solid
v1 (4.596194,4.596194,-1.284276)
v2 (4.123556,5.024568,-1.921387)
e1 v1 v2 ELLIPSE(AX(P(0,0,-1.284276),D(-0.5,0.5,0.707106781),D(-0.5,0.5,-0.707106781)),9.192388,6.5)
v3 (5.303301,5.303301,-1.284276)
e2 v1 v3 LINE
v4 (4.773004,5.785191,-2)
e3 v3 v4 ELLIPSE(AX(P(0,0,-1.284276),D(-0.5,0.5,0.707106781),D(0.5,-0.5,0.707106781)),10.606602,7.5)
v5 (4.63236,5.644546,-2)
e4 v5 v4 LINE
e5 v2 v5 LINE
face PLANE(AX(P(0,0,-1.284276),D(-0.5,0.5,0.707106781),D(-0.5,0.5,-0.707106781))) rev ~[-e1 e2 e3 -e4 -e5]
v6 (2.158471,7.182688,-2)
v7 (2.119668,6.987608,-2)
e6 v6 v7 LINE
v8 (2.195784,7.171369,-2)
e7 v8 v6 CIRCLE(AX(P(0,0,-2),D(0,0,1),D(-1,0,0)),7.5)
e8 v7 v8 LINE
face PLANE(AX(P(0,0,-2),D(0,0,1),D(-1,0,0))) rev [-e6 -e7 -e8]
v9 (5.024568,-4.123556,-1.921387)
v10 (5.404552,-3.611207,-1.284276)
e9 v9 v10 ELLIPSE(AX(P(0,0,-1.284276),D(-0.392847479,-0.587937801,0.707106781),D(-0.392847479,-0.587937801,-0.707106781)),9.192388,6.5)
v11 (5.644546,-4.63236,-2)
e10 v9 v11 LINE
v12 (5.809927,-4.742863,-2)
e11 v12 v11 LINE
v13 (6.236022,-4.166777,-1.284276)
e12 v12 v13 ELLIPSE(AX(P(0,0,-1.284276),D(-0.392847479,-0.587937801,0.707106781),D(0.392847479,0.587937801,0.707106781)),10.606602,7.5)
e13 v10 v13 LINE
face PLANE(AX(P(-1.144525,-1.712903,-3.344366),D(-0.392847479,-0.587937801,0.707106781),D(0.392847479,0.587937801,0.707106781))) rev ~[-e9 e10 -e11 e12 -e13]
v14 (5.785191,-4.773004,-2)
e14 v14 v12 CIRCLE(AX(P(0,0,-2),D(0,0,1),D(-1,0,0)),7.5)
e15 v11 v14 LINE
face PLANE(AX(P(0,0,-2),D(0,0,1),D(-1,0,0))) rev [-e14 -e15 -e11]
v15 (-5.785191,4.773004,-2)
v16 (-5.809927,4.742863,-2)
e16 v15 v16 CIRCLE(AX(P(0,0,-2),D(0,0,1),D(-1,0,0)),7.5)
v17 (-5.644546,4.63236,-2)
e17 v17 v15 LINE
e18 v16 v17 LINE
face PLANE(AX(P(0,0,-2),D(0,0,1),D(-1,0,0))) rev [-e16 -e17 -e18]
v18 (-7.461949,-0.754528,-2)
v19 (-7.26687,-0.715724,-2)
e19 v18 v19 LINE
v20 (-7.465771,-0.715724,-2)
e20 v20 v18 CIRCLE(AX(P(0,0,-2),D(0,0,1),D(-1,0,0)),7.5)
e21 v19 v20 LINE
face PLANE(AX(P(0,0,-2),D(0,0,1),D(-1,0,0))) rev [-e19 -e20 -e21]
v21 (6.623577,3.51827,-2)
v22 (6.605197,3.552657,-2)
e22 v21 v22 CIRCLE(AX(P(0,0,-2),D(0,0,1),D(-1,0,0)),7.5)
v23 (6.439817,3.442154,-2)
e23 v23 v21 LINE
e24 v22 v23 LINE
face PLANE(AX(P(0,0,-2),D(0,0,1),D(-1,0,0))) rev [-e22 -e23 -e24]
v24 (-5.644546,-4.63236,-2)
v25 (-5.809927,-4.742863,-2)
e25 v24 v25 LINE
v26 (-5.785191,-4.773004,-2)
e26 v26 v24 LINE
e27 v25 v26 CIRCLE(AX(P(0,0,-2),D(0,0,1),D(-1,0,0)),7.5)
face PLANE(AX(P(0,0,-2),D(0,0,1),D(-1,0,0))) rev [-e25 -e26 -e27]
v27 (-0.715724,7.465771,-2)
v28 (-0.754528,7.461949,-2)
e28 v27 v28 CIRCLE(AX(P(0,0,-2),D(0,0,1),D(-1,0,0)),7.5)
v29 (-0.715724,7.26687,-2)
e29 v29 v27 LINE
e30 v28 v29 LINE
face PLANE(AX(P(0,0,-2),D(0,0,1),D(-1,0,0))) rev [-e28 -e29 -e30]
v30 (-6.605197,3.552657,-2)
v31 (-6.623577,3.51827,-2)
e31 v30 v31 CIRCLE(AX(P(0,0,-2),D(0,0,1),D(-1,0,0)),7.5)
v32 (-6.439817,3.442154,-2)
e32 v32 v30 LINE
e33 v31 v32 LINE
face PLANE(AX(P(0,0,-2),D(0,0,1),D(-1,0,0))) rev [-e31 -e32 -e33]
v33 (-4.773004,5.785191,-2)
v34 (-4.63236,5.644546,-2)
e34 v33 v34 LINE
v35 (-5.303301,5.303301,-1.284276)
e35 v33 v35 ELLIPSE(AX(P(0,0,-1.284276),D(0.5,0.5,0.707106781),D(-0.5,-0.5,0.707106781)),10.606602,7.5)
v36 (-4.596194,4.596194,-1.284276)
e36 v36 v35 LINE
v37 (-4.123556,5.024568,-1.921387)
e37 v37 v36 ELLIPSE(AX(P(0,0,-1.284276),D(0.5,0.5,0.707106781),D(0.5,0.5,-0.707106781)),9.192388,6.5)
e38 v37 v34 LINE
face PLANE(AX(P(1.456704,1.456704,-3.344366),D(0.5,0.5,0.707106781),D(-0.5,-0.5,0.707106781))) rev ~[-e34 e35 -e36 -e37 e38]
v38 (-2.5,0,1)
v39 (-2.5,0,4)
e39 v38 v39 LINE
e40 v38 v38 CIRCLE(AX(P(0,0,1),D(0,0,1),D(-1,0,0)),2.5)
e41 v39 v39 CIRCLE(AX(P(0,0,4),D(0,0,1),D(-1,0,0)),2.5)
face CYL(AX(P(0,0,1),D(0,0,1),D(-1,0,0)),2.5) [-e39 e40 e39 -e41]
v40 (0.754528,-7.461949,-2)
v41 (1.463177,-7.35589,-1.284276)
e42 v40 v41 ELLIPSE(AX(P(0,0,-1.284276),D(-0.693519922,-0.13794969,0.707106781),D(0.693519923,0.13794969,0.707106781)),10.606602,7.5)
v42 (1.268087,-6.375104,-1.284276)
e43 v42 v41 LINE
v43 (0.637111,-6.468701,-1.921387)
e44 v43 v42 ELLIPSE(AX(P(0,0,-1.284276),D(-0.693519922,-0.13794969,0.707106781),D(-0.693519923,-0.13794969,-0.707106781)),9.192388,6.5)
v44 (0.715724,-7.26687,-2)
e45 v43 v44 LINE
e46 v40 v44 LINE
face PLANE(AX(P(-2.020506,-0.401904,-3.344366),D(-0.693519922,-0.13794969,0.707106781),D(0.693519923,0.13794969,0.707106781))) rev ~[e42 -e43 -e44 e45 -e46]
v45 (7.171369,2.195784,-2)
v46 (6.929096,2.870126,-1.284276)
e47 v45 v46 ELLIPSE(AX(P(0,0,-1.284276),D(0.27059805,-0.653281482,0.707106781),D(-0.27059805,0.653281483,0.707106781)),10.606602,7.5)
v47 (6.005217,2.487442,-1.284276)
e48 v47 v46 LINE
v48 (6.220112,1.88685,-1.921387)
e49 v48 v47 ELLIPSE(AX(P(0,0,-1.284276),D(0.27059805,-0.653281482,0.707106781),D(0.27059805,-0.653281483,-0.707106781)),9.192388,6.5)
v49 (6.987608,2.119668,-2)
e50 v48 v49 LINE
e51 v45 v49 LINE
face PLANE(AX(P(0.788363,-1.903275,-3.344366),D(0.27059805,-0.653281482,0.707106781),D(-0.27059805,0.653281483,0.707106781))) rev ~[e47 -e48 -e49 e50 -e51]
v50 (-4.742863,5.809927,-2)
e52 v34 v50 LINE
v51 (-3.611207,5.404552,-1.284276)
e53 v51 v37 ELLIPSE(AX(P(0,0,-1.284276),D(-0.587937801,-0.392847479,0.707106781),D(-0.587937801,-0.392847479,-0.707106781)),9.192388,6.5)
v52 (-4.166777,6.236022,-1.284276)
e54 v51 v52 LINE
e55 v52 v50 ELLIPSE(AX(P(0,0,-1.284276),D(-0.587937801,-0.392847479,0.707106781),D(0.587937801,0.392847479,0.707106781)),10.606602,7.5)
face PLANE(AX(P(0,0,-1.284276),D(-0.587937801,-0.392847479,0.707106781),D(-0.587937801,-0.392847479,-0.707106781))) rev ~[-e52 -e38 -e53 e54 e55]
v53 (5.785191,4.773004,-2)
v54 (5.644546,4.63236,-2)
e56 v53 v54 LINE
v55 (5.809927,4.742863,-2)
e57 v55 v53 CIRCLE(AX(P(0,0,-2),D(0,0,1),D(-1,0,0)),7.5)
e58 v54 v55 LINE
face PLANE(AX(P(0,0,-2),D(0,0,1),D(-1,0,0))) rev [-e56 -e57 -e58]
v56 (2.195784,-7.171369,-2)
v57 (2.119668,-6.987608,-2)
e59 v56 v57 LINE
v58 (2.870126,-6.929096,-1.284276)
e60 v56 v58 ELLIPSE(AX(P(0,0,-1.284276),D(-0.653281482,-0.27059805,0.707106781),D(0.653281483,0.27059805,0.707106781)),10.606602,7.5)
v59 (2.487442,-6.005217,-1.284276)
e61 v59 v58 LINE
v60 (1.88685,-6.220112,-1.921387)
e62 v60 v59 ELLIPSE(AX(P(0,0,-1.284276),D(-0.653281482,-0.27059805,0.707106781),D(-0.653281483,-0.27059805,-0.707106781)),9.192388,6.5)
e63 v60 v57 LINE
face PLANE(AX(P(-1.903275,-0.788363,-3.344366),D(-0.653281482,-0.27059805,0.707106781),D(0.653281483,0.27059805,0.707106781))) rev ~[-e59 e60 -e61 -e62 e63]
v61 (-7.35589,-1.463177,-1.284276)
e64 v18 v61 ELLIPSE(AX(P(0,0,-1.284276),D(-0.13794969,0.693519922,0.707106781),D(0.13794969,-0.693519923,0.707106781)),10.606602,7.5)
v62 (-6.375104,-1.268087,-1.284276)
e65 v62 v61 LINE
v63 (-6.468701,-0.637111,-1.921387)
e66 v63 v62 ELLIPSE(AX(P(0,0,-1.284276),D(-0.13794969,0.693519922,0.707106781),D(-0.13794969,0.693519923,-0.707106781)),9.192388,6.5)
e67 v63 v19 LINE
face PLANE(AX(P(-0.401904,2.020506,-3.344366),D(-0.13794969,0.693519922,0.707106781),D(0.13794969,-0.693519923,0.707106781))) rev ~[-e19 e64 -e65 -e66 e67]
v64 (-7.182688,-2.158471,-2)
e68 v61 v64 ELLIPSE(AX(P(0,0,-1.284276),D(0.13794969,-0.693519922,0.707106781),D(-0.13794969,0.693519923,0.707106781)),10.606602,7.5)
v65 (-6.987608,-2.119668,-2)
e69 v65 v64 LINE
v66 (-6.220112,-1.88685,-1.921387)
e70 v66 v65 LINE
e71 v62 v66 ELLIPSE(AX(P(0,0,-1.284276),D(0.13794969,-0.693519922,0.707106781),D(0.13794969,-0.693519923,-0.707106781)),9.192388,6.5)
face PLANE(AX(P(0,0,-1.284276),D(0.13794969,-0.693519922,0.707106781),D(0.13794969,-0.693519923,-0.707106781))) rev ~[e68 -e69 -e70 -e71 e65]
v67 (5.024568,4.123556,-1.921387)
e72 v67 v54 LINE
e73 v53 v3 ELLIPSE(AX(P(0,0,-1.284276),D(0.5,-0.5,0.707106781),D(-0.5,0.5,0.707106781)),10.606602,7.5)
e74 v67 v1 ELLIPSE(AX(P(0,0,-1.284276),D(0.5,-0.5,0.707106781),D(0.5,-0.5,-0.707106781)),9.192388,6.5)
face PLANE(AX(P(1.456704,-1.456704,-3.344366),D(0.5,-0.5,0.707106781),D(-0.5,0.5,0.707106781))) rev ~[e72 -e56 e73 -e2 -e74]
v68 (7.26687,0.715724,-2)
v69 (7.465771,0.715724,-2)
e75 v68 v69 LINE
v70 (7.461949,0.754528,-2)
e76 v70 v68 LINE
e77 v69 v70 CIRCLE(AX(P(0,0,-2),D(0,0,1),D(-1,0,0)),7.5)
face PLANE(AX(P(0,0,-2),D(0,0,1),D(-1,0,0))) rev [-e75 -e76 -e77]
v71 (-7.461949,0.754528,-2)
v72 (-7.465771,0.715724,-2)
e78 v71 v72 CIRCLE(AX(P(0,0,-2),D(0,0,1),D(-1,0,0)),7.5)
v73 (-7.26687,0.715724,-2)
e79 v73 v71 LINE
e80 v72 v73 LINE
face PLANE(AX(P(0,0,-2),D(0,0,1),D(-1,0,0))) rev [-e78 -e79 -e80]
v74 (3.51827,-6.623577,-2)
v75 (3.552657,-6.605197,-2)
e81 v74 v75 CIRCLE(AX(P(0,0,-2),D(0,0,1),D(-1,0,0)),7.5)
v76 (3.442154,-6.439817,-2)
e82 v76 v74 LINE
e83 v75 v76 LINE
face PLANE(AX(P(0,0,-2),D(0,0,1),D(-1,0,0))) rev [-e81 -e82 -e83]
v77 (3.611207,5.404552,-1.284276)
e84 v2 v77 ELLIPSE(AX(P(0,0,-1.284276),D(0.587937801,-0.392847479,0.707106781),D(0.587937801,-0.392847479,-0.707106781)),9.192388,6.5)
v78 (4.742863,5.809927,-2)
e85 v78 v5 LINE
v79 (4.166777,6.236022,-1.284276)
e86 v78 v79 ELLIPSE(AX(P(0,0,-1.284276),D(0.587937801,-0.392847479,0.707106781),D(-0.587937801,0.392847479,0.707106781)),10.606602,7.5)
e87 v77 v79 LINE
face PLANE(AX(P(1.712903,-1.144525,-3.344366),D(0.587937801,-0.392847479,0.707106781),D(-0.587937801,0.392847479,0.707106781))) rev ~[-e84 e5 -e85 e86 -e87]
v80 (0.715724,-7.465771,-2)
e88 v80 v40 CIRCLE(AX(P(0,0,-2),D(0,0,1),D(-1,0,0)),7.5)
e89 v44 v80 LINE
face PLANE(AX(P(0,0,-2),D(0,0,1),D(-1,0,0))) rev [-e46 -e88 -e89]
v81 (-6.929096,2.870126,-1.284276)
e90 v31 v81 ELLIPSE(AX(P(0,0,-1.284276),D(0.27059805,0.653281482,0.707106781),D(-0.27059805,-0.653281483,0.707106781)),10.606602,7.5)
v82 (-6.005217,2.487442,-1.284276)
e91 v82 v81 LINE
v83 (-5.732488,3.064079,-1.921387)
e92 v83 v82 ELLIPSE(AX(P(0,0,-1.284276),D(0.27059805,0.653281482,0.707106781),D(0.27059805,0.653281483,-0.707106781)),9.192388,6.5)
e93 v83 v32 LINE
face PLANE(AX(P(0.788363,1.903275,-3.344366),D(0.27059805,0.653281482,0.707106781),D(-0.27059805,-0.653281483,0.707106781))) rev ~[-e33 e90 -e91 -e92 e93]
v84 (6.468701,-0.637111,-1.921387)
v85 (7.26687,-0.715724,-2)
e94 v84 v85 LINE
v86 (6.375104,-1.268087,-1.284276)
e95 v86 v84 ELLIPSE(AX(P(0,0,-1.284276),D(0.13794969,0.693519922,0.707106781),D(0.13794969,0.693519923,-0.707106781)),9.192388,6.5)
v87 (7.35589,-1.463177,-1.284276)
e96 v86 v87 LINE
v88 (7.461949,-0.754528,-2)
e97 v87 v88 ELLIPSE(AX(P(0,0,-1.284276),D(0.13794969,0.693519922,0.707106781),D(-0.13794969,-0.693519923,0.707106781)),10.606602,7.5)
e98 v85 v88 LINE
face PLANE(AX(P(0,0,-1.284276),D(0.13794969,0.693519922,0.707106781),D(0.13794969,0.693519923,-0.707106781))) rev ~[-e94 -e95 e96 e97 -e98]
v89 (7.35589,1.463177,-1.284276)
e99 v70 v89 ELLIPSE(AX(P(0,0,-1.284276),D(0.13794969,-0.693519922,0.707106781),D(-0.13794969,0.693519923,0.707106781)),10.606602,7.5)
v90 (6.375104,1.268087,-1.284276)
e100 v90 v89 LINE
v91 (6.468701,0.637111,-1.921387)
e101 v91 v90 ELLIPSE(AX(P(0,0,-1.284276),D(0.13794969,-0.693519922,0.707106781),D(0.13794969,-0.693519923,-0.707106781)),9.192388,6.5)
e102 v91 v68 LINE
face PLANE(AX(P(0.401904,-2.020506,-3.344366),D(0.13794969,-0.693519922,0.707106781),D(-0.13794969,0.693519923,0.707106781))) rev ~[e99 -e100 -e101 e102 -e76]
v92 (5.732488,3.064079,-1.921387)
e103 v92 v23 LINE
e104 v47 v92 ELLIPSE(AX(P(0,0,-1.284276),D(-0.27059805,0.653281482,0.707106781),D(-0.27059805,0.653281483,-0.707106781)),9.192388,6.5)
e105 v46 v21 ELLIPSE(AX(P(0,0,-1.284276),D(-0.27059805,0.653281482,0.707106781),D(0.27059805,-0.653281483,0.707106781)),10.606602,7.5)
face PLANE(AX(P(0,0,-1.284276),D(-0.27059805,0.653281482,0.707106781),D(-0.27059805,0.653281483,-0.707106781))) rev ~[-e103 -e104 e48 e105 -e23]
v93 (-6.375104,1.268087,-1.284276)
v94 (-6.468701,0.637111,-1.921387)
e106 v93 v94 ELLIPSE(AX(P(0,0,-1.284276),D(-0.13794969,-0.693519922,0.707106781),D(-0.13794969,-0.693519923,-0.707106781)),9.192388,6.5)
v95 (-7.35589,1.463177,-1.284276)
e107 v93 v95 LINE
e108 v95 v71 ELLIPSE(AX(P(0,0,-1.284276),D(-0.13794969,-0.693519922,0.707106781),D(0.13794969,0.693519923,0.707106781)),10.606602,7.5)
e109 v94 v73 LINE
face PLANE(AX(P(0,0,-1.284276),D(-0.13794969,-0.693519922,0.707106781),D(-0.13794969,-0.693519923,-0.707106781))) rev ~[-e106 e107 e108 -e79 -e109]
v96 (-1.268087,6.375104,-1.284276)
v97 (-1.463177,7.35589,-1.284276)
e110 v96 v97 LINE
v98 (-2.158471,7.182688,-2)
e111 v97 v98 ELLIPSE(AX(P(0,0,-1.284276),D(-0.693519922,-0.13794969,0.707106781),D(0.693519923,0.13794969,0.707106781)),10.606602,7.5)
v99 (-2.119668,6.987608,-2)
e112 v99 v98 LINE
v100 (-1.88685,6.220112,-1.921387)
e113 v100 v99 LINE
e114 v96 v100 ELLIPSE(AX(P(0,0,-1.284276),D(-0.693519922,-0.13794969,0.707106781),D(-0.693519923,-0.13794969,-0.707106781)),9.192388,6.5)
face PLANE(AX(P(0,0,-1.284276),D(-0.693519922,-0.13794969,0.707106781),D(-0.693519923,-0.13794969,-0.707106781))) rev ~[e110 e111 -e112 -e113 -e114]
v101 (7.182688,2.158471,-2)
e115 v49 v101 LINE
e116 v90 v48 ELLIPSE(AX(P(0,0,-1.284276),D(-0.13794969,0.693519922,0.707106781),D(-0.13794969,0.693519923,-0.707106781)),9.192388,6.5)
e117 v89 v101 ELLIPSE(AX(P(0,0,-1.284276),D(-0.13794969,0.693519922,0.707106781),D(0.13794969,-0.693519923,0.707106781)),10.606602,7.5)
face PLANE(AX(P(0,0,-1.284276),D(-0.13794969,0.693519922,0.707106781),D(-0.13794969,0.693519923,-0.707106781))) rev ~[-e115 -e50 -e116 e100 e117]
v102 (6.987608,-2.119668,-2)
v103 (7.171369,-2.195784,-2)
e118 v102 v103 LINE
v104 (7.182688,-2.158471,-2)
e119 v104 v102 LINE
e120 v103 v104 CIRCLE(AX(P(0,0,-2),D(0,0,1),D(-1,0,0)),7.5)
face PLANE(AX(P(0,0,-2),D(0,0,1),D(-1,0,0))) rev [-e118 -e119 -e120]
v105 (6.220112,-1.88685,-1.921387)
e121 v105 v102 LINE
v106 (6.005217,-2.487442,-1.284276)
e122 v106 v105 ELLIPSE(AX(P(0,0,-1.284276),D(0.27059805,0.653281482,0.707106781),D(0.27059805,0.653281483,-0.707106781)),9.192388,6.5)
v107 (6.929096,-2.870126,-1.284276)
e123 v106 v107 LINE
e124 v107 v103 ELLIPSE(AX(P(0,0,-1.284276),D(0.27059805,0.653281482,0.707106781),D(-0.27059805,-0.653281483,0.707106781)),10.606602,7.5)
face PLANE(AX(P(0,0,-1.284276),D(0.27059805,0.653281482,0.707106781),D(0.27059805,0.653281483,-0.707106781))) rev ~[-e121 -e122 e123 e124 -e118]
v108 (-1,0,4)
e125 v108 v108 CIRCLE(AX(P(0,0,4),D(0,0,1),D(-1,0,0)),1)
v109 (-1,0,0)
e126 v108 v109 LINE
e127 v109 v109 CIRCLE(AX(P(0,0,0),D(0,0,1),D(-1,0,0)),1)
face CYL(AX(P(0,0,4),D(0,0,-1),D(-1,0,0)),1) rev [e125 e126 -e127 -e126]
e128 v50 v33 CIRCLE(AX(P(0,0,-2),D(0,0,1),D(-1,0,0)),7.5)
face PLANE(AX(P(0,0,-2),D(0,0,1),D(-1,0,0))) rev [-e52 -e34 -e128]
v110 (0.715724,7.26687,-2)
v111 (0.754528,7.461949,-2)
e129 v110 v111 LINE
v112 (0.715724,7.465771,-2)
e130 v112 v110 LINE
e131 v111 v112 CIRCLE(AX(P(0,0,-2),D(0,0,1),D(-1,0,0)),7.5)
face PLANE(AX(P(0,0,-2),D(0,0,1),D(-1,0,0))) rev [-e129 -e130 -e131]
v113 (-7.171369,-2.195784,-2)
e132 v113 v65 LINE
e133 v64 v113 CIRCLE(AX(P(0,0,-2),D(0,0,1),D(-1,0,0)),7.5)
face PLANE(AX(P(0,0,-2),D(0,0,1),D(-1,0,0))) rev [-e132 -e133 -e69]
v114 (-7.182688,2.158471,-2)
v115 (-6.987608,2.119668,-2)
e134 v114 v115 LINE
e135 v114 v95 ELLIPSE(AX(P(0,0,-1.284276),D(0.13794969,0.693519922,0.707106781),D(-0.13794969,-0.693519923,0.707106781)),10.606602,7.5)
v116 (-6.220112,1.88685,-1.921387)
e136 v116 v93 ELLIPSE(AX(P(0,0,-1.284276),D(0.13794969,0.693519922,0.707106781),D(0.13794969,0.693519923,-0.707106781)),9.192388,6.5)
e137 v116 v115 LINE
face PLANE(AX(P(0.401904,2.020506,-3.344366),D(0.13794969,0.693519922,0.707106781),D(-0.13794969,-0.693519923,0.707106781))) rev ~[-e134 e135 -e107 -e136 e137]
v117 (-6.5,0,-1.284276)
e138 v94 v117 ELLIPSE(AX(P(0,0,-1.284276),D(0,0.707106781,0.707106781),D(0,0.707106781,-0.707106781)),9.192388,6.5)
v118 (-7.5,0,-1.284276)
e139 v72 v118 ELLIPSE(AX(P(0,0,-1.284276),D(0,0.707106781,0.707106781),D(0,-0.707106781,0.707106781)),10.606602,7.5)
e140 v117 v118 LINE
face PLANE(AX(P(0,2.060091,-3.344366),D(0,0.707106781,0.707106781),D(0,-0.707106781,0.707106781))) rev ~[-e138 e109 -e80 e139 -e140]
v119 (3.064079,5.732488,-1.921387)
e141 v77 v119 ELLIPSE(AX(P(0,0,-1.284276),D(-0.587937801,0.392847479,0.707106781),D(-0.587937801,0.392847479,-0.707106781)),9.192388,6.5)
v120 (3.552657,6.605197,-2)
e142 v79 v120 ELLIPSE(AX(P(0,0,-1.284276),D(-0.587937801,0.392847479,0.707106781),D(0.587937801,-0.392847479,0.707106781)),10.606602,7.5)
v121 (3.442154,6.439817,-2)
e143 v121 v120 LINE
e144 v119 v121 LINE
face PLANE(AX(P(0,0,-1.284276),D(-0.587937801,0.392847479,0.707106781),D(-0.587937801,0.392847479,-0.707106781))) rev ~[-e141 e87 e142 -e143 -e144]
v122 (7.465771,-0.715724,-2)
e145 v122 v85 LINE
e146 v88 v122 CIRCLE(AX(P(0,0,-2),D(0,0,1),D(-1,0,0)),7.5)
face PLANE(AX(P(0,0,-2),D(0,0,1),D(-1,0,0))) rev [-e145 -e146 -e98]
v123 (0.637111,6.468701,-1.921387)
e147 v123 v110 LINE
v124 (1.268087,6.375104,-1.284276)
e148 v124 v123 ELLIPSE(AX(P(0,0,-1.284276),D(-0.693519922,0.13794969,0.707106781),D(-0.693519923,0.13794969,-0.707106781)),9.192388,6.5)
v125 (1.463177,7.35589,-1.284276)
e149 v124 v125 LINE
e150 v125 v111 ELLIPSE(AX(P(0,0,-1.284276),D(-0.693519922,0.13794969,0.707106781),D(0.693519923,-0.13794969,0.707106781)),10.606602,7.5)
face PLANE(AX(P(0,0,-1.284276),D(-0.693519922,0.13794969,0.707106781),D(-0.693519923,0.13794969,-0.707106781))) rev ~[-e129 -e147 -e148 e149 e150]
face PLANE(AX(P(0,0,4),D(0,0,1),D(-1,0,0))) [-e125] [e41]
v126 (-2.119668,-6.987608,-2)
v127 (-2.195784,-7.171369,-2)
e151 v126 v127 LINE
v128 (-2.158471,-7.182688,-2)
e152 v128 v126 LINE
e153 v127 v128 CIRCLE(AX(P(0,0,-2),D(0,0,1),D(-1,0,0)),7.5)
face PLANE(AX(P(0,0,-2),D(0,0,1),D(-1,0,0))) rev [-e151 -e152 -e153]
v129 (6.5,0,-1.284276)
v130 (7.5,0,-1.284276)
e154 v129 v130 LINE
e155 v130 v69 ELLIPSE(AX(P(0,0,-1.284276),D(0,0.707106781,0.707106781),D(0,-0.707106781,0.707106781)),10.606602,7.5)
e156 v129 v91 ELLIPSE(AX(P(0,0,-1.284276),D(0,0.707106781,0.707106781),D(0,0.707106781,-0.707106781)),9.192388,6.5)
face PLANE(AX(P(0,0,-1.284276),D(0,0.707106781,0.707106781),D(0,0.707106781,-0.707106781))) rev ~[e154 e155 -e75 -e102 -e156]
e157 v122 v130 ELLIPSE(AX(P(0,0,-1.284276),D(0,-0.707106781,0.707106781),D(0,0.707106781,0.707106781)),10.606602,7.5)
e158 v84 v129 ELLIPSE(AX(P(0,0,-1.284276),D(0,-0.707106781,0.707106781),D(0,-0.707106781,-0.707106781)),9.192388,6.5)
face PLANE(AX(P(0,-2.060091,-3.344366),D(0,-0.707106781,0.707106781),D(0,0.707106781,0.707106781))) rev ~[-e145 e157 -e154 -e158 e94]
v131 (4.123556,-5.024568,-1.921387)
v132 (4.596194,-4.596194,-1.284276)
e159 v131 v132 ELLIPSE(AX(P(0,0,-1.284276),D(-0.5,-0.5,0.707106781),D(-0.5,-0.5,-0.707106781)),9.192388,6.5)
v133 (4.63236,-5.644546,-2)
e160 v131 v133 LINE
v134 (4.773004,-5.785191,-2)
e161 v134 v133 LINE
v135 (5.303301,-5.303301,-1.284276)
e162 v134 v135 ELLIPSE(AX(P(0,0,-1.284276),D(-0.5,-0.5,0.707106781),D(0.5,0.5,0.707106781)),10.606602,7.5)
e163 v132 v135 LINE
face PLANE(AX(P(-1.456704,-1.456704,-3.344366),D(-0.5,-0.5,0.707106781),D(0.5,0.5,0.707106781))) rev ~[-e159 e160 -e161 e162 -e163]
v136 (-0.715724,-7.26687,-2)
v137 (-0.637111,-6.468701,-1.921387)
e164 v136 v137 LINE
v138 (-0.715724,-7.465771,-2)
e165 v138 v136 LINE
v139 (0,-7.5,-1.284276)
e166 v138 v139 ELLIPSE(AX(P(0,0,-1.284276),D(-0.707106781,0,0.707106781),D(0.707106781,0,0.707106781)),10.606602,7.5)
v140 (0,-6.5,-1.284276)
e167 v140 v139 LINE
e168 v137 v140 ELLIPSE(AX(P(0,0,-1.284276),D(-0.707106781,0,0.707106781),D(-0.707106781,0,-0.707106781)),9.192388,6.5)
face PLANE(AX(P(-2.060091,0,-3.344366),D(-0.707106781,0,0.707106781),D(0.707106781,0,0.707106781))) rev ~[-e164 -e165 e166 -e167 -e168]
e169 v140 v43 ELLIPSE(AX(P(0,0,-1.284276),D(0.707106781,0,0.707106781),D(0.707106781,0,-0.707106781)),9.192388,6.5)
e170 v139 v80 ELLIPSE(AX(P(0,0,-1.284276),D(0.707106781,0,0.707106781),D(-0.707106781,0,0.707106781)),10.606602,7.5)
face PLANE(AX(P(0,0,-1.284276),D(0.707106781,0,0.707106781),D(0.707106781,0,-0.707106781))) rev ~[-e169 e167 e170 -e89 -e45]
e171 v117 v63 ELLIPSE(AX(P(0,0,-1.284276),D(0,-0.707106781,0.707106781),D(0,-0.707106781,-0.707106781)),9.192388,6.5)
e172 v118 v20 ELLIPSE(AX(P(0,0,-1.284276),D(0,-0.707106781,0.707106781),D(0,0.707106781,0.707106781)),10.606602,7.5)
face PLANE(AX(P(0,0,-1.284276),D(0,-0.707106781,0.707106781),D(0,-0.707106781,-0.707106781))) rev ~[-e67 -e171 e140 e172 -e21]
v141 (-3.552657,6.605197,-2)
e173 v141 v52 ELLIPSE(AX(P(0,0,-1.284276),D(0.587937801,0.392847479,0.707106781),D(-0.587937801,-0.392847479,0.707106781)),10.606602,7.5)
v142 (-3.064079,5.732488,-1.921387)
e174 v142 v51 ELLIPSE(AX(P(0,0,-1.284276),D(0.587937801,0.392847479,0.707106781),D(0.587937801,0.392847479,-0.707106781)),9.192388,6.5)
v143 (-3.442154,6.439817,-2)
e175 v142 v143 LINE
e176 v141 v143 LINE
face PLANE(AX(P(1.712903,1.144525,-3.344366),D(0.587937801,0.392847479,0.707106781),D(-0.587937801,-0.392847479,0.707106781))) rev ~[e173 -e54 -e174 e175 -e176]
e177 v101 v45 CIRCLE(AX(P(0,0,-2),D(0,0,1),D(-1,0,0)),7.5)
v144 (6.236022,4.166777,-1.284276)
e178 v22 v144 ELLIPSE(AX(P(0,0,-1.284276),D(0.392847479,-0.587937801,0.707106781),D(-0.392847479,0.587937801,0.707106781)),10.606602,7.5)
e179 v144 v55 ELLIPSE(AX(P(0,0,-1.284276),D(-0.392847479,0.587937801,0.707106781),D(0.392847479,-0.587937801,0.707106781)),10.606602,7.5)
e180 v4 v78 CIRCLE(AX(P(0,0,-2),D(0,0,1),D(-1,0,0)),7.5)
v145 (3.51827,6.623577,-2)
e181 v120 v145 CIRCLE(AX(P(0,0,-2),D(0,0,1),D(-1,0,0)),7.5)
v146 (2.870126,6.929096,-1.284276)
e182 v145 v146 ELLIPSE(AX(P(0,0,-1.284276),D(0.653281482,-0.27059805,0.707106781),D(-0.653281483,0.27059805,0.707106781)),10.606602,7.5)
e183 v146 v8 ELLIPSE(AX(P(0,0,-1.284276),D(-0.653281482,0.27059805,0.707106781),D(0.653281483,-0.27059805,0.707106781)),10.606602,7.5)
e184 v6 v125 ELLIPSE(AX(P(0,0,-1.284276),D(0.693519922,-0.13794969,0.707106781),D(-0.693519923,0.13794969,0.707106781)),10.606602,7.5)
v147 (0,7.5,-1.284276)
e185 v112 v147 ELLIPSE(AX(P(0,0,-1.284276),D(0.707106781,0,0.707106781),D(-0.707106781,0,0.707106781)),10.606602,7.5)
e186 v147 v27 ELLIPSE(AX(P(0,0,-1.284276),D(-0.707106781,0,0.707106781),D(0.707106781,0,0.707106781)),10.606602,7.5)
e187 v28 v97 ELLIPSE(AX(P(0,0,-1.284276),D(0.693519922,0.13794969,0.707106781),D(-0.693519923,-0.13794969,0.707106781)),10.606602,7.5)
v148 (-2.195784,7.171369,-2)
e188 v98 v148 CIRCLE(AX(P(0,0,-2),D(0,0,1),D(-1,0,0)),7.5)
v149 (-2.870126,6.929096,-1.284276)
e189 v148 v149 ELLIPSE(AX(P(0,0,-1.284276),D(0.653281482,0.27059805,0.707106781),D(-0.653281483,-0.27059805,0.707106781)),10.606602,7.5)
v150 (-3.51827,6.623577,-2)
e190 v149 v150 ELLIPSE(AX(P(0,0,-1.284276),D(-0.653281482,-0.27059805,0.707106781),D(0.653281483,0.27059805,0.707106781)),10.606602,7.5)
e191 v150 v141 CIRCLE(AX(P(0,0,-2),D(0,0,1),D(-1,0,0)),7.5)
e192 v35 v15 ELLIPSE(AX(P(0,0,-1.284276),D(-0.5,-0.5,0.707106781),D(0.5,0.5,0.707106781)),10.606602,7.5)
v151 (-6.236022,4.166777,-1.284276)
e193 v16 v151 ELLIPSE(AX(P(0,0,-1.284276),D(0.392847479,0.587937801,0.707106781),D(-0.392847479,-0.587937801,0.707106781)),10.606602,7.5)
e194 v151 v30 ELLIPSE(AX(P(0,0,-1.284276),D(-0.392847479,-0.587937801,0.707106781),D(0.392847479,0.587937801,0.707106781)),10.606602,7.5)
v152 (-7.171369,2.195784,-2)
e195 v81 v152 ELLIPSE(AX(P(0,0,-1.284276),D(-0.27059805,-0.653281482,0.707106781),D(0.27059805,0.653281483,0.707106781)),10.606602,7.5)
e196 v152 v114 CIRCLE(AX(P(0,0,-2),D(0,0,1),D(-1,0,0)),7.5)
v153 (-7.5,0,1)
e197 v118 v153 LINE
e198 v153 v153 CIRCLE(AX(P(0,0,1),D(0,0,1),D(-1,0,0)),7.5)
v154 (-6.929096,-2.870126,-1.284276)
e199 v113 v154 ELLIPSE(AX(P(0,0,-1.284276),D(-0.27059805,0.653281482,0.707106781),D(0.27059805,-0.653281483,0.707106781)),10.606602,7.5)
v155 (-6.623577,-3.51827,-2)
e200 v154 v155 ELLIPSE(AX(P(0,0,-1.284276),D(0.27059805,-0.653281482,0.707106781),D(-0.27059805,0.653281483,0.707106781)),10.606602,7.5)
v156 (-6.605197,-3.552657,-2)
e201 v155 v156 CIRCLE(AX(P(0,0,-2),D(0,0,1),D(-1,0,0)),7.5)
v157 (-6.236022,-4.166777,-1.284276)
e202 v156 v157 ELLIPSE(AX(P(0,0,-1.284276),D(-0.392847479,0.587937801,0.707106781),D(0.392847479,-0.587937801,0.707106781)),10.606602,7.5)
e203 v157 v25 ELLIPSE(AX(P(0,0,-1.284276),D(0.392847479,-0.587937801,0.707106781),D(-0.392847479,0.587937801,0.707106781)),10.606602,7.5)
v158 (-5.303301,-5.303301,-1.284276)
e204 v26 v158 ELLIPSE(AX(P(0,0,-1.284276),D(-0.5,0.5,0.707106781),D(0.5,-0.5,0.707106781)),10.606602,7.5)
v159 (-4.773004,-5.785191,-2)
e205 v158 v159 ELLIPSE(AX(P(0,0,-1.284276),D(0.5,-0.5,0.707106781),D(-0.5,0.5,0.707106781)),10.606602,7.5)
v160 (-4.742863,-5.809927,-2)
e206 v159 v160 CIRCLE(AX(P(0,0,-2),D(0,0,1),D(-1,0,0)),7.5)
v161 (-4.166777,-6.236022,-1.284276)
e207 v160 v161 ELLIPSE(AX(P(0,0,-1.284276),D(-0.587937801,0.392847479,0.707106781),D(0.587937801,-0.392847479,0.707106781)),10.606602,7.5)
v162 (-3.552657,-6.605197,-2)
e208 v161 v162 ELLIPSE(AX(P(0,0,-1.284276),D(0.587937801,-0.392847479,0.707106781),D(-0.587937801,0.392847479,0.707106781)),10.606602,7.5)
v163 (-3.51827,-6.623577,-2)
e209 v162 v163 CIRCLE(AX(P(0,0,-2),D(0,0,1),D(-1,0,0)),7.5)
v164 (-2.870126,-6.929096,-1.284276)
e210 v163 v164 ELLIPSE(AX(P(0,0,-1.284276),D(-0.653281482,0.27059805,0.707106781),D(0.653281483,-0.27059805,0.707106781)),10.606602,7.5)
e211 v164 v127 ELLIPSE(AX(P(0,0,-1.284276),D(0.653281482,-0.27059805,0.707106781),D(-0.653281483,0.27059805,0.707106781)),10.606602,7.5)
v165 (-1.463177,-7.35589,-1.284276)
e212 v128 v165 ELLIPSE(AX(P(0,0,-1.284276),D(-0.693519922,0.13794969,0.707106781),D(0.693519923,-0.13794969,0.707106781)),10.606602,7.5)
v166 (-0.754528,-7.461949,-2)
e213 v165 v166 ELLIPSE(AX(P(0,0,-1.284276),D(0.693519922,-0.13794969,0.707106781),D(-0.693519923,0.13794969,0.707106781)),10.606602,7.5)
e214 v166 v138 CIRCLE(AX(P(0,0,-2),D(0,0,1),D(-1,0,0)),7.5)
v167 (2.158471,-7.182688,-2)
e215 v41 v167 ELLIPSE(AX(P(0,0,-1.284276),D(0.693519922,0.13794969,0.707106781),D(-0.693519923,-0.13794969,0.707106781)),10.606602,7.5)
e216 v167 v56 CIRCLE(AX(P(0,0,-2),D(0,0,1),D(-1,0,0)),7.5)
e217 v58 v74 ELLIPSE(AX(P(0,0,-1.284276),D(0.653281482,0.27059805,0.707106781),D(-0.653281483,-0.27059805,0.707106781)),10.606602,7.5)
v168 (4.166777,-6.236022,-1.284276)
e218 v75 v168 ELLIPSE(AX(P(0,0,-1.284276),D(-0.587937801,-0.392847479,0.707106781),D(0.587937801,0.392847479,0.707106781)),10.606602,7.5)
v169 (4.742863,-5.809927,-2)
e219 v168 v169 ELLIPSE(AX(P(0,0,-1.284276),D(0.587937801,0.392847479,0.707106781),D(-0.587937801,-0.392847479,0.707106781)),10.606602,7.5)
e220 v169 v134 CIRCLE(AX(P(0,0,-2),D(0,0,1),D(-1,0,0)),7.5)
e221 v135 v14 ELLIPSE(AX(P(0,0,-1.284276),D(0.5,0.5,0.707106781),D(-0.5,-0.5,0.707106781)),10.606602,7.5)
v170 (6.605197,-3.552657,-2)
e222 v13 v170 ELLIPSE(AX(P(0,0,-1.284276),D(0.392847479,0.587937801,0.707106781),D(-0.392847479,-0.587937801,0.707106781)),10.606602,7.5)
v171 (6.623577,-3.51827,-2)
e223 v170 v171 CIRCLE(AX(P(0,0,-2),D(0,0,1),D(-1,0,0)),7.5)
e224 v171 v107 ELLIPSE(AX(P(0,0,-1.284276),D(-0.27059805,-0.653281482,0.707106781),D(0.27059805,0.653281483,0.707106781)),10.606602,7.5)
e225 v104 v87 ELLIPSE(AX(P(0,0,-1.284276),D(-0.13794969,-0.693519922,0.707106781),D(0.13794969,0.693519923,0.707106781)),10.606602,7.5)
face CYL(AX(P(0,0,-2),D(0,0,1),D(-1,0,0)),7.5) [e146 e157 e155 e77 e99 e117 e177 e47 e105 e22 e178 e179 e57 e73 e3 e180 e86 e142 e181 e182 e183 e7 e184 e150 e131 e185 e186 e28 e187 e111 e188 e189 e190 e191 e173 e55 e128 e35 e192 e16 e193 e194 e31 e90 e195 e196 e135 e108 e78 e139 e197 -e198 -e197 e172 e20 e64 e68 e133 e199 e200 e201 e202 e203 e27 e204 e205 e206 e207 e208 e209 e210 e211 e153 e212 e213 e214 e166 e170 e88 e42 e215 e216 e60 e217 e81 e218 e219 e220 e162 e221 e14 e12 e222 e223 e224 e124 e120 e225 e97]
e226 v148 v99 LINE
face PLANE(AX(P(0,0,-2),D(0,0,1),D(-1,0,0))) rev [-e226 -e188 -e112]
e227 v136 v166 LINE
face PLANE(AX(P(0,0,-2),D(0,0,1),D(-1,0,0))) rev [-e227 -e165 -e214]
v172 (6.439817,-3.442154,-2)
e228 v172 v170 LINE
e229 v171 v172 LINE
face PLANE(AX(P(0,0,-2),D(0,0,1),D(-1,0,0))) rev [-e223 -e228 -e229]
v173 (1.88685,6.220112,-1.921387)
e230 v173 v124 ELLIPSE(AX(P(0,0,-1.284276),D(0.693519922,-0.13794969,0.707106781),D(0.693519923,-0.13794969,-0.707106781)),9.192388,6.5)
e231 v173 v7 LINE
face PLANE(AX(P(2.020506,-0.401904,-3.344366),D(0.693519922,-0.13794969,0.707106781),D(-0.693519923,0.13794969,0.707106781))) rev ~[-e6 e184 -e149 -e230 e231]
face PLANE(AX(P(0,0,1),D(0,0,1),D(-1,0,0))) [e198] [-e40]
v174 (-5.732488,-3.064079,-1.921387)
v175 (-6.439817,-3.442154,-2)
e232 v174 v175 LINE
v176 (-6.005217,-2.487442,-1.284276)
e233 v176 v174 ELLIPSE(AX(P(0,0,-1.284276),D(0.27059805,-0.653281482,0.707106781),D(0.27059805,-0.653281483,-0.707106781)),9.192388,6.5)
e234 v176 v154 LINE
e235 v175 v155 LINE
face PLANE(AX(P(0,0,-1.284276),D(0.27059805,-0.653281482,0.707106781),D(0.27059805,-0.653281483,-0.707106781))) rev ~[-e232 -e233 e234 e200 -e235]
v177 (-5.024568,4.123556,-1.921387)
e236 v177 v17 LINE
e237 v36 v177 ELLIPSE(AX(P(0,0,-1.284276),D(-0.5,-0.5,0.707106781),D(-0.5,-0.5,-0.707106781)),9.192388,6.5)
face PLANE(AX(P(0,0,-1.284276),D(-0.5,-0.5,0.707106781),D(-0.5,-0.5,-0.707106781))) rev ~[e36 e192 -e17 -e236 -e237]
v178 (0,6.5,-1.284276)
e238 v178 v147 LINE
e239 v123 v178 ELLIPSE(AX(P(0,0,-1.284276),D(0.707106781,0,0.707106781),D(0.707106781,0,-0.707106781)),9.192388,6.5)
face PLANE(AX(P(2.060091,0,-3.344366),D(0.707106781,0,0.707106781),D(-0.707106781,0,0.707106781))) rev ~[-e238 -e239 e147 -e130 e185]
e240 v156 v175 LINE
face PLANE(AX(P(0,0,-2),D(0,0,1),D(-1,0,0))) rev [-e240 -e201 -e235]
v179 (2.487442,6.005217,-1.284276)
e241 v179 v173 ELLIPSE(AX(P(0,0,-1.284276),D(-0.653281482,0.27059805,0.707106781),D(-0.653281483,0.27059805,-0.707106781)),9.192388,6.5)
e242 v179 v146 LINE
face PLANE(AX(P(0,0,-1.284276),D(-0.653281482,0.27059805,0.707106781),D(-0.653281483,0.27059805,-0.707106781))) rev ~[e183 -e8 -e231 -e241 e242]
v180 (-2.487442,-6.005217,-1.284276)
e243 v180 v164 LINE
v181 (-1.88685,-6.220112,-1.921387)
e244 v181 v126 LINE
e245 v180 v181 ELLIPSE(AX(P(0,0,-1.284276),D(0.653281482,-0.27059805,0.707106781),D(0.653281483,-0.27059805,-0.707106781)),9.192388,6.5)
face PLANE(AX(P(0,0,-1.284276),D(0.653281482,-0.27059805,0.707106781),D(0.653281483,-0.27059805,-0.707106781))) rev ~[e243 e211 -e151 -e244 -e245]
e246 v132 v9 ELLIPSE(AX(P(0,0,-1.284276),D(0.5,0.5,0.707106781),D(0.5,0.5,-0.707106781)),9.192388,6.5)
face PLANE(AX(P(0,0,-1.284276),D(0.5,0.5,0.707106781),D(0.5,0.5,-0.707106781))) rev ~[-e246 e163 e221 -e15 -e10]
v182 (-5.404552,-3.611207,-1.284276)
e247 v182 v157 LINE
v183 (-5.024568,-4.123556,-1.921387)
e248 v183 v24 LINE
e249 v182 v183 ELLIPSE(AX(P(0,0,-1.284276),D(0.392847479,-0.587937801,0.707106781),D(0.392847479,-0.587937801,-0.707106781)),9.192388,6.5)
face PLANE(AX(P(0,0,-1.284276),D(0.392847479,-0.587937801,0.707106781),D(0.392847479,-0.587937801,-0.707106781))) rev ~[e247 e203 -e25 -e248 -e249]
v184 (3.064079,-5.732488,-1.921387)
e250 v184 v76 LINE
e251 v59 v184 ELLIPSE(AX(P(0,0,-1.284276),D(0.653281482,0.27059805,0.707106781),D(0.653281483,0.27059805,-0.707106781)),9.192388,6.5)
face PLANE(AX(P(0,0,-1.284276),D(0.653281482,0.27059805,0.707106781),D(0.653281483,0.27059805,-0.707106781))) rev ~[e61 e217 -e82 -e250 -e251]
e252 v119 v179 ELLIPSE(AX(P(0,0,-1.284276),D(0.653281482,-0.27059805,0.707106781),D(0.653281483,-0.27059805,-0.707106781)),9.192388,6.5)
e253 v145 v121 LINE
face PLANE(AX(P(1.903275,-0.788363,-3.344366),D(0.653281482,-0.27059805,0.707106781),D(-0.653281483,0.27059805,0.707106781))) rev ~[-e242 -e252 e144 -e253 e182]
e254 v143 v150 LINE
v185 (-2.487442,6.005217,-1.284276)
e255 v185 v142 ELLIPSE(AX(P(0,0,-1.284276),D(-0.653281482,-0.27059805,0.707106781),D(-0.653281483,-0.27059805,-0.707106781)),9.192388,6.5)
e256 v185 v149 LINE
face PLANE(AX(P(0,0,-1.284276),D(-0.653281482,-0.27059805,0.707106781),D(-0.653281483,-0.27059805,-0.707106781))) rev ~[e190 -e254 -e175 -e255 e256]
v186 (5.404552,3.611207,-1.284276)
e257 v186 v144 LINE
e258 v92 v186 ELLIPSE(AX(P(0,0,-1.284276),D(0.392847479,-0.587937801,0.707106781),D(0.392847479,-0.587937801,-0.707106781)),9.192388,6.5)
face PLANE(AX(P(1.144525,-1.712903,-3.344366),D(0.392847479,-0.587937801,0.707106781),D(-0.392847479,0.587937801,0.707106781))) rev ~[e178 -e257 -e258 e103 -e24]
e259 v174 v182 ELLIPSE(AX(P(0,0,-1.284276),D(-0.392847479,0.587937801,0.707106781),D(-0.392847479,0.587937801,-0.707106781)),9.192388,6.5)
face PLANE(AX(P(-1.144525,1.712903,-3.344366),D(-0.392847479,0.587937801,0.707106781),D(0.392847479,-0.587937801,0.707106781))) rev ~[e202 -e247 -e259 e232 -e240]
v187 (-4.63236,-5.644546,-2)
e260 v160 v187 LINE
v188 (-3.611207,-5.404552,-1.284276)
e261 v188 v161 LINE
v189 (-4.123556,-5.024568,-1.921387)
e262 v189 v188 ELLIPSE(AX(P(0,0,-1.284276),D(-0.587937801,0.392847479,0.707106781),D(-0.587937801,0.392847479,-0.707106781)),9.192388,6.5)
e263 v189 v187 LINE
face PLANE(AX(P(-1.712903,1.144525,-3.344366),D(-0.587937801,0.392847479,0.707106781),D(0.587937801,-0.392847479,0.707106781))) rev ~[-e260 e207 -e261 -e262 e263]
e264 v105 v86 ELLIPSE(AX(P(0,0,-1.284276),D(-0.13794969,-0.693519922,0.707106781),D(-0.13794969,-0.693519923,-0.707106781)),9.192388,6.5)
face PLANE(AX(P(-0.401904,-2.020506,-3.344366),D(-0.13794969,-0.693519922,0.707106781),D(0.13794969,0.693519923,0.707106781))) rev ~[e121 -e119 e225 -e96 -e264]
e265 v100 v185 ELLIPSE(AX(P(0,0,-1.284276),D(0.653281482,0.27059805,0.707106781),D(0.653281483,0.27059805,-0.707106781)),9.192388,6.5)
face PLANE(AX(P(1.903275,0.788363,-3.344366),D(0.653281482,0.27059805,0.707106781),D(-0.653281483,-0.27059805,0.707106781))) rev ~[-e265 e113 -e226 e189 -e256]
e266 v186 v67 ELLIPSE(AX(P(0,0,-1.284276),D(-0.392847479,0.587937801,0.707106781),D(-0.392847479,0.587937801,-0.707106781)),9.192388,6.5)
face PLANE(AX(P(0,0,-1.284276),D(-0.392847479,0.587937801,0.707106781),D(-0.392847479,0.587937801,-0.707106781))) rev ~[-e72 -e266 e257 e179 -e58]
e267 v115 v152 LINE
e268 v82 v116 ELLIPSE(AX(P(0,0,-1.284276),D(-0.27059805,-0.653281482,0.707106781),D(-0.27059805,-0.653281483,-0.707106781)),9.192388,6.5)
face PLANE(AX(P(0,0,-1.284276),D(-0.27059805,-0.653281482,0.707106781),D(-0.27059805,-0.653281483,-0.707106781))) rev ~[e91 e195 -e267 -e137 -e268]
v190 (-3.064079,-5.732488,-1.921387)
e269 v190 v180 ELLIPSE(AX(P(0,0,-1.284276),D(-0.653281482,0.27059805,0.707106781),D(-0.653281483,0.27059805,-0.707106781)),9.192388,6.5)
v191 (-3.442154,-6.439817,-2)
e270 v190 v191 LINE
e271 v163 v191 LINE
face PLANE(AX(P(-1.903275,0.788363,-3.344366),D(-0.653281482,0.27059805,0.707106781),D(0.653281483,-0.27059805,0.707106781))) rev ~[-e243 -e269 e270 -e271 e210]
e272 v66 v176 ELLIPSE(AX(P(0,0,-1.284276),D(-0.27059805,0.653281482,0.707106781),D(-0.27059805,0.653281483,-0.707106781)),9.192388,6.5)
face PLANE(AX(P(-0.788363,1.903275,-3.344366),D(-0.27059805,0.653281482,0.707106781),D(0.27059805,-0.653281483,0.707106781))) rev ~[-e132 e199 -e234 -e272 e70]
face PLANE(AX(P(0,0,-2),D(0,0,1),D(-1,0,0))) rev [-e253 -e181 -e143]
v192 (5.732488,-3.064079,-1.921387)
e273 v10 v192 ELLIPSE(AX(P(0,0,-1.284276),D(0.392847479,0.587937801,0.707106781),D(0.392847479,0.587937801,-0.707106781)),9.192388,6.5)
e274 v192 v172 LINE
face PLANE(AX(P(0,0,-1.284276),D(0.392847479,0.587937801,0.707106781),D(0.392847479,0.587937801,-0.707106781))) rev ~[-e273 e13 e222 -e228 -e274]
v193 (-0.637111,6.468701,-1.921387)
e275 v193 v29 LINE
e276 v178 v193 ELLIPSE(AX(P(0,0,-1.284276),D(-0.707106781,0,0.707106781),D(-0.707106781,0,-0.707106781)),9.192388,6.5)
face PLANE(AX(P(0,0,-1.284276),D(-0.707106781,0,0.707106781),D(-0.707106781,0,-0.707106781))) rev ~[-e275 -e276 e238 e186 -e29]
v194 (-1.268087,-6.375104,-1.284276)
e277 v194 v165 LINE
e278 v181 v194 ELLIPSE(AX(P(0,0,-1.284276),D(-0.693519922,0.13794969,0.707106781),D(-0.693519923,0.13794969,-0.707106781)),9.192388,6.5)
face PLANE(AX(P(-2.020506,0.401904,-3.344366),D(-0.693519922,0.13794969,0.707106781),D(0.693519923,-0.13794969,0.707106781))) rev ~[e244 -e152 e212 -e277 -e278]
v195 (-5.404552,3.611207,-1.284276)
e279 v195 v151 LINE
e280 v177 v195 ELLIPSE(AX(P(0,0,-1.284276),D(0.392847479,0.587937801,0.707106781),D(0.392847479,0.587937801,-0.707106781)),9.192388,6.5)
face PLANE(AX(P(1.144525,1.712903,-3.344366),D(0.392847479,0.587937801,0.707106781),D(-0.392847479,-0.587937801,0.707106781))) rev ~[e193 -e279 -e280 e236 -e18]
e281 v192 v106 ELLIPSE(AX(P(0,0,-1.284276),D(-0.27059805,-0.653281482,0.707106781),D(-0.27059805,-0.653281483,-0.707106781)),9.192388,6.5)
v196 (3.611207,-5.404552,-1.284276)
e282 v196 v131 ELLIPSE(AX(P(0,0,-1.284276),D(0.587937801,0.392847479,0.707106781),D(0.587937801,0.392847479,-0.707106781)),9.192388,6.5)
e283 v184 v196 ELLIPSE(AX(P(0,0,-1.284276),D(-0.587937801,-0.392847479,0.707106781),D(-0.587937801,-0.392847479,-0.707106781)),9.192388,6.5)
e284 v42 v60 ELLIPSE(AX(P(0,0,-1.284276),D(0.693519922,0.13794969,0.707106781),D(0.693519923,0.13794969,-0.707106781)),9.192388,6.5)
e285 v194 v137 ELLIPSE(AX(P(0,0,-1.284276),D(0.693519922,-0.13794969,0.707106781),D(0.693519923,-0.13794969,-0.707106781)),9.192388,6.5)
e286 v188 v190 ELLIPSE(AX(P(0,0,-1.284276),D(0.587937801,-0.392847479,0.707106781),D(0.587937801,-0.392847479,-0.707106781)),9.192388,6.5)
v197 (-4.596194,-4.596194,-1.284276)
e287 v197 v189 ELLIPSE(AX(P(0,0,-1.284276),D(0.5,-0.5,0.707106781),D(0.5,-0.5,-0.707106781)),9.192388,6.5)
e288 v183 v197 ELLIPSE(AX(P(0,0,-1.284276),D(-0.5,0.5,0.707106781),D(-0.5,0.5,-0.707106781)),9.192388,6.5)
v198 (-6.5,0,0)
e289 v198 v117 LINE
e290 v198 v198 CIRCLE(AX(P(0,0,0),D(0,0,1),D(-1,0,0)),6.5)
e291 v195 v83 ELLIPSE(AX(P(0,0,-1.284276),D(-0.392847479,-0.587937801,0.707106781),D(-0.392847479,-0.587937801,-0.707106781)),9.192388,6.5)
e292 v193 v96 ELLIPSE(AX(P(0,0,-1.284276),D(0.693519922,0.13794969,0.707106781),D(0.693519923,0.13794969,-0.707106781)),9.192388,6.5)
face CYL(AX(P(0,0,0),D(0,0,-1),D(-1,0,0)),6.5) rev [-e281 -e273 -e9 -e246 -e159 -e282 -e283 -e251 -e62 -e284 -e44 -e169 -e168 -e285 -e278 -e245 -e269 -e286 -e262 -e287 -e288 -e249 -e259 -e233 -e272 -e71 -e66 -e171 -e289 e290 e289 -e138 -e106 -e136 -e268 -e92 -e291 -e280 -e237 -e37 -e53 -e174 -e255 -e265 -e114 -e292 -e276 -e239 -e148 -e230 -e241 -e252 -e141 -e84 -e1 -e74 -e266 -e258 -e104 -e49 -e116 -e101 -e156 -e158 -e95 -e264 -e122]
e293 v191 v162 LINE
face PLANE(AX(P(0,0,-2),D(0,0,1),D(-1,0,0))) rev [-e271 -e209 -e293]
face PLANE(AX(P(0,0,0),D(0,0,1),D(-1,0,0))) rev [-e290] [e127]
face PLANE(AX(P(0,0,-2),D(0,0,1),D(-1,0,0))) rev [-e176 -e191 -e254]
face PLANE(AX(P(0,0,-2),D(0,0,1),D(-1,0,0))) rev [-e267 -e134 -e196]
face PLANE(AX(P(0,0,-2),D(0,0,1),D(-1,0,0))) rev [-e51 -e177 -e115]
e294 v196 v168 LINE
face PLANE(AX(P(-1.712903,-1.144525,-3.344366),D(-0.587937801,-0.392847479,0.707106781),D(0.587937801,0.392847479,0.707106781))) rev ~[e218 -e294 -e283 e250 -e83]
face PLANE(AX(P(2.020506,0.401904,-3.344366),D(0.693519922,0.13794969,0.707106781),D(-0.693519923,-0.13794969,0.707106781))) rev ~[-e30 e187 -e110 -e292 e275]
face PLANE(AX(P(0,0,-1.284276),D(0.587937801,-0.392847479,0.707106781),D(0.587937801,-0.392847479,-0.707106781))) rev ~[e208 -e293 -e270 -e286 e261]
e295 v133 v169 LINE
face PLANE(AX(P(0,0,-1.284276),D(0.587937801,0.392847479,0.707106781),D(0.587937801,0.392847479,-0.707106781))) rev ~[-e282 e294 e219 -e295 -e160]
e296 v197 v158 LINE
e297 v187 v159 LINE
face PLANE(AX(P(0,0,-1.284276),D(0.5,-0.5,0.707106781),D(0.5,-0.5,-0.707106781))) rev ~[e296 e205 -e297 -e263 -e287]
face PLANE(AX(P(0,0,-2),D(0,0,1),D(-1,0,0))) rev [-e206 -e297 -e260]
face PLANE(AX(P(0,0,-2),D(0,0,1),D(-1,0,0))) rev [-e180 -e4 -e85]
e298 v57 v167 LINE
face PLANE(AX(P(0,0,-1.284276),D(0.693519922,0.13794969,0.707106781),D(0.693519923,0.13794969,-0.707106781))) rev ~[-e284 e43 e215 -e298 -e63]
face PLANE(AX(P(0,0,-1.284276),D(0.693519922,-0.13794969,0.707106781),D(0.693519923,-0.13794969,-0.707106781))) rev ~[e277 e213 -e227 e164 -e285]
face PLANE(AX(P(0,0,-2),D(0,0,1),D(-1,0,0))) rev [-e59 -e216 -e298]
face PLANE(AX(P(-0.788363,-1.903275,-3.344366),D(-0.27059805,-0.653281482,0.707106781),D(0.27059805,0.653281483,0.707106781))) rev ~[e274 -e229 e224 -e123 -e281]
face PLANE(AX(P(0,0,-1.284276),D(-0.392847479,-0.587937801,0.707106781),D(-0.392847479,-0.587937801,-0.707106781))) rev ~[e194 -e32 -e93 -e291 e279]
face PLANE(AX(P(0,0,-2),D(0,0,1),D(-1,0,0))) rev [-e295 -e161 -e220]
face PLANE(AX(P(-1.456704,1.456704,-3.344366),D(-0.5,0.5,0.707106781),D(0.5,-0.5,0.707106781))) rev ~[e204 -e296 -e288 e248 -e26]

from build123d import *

# Parameters (mm, degrees)
CUT_EXTRUDE1_DEPTH = 10
CIRPATTERN1_COUNT  = 32


with BuildPart() as part:
    # Sketch1 → Revolve1 (revolve)
    with BuildSketch(Plane(origin=(0, 0, 0), x_dir=(1, 0, 0), z_dir=(0, 1, 0)), mode=Mode.PRIVATE) as revolve1_sk:
        Polygon((1, 0), (6.5, 0), (6.5, 2), (7.5, 2), (7.5, -1), (2.5, -1), (2.5, -4), (1, -4), align=None)
    revolve(revolve1_sk.sketch.rotate(Axis((0, 0, -10.710116732), (0, 0, 1)), 180), axis=Axis((0, 0, -10.710116732), (0, 0, 1)))

    # Sketch2 → Cut-Extrude1 (cut)
    with BuildSketch(Plane(origin=(0, 0, 0), x_dir=(1, 0, 0), z_dir=(0, 1, 0))):
        Polygon((0, 1.284275778), (2.060090555, 3.344366332), (-2.060090555, 3.344366332), align=None)
    cut_extrude1 = extrude(amount=-CUT_EXTRUDE1_DEPTH, mode=Mode.SUBTRACT)

    # CirPattern1: Cut-Extrude1 ×32 about axis
    cirpattern1_axis = Axis((0, 0, 0), (0, 0, 1))
    for i in range(1, CIRPATTERN1_COUNT):
        add(cut_extrude1.rotate(cirpattern1_axis, i * 360 / CIRPATTERN1_COUNT), mode=Mode.SUBTRACT)


solid = part.part
